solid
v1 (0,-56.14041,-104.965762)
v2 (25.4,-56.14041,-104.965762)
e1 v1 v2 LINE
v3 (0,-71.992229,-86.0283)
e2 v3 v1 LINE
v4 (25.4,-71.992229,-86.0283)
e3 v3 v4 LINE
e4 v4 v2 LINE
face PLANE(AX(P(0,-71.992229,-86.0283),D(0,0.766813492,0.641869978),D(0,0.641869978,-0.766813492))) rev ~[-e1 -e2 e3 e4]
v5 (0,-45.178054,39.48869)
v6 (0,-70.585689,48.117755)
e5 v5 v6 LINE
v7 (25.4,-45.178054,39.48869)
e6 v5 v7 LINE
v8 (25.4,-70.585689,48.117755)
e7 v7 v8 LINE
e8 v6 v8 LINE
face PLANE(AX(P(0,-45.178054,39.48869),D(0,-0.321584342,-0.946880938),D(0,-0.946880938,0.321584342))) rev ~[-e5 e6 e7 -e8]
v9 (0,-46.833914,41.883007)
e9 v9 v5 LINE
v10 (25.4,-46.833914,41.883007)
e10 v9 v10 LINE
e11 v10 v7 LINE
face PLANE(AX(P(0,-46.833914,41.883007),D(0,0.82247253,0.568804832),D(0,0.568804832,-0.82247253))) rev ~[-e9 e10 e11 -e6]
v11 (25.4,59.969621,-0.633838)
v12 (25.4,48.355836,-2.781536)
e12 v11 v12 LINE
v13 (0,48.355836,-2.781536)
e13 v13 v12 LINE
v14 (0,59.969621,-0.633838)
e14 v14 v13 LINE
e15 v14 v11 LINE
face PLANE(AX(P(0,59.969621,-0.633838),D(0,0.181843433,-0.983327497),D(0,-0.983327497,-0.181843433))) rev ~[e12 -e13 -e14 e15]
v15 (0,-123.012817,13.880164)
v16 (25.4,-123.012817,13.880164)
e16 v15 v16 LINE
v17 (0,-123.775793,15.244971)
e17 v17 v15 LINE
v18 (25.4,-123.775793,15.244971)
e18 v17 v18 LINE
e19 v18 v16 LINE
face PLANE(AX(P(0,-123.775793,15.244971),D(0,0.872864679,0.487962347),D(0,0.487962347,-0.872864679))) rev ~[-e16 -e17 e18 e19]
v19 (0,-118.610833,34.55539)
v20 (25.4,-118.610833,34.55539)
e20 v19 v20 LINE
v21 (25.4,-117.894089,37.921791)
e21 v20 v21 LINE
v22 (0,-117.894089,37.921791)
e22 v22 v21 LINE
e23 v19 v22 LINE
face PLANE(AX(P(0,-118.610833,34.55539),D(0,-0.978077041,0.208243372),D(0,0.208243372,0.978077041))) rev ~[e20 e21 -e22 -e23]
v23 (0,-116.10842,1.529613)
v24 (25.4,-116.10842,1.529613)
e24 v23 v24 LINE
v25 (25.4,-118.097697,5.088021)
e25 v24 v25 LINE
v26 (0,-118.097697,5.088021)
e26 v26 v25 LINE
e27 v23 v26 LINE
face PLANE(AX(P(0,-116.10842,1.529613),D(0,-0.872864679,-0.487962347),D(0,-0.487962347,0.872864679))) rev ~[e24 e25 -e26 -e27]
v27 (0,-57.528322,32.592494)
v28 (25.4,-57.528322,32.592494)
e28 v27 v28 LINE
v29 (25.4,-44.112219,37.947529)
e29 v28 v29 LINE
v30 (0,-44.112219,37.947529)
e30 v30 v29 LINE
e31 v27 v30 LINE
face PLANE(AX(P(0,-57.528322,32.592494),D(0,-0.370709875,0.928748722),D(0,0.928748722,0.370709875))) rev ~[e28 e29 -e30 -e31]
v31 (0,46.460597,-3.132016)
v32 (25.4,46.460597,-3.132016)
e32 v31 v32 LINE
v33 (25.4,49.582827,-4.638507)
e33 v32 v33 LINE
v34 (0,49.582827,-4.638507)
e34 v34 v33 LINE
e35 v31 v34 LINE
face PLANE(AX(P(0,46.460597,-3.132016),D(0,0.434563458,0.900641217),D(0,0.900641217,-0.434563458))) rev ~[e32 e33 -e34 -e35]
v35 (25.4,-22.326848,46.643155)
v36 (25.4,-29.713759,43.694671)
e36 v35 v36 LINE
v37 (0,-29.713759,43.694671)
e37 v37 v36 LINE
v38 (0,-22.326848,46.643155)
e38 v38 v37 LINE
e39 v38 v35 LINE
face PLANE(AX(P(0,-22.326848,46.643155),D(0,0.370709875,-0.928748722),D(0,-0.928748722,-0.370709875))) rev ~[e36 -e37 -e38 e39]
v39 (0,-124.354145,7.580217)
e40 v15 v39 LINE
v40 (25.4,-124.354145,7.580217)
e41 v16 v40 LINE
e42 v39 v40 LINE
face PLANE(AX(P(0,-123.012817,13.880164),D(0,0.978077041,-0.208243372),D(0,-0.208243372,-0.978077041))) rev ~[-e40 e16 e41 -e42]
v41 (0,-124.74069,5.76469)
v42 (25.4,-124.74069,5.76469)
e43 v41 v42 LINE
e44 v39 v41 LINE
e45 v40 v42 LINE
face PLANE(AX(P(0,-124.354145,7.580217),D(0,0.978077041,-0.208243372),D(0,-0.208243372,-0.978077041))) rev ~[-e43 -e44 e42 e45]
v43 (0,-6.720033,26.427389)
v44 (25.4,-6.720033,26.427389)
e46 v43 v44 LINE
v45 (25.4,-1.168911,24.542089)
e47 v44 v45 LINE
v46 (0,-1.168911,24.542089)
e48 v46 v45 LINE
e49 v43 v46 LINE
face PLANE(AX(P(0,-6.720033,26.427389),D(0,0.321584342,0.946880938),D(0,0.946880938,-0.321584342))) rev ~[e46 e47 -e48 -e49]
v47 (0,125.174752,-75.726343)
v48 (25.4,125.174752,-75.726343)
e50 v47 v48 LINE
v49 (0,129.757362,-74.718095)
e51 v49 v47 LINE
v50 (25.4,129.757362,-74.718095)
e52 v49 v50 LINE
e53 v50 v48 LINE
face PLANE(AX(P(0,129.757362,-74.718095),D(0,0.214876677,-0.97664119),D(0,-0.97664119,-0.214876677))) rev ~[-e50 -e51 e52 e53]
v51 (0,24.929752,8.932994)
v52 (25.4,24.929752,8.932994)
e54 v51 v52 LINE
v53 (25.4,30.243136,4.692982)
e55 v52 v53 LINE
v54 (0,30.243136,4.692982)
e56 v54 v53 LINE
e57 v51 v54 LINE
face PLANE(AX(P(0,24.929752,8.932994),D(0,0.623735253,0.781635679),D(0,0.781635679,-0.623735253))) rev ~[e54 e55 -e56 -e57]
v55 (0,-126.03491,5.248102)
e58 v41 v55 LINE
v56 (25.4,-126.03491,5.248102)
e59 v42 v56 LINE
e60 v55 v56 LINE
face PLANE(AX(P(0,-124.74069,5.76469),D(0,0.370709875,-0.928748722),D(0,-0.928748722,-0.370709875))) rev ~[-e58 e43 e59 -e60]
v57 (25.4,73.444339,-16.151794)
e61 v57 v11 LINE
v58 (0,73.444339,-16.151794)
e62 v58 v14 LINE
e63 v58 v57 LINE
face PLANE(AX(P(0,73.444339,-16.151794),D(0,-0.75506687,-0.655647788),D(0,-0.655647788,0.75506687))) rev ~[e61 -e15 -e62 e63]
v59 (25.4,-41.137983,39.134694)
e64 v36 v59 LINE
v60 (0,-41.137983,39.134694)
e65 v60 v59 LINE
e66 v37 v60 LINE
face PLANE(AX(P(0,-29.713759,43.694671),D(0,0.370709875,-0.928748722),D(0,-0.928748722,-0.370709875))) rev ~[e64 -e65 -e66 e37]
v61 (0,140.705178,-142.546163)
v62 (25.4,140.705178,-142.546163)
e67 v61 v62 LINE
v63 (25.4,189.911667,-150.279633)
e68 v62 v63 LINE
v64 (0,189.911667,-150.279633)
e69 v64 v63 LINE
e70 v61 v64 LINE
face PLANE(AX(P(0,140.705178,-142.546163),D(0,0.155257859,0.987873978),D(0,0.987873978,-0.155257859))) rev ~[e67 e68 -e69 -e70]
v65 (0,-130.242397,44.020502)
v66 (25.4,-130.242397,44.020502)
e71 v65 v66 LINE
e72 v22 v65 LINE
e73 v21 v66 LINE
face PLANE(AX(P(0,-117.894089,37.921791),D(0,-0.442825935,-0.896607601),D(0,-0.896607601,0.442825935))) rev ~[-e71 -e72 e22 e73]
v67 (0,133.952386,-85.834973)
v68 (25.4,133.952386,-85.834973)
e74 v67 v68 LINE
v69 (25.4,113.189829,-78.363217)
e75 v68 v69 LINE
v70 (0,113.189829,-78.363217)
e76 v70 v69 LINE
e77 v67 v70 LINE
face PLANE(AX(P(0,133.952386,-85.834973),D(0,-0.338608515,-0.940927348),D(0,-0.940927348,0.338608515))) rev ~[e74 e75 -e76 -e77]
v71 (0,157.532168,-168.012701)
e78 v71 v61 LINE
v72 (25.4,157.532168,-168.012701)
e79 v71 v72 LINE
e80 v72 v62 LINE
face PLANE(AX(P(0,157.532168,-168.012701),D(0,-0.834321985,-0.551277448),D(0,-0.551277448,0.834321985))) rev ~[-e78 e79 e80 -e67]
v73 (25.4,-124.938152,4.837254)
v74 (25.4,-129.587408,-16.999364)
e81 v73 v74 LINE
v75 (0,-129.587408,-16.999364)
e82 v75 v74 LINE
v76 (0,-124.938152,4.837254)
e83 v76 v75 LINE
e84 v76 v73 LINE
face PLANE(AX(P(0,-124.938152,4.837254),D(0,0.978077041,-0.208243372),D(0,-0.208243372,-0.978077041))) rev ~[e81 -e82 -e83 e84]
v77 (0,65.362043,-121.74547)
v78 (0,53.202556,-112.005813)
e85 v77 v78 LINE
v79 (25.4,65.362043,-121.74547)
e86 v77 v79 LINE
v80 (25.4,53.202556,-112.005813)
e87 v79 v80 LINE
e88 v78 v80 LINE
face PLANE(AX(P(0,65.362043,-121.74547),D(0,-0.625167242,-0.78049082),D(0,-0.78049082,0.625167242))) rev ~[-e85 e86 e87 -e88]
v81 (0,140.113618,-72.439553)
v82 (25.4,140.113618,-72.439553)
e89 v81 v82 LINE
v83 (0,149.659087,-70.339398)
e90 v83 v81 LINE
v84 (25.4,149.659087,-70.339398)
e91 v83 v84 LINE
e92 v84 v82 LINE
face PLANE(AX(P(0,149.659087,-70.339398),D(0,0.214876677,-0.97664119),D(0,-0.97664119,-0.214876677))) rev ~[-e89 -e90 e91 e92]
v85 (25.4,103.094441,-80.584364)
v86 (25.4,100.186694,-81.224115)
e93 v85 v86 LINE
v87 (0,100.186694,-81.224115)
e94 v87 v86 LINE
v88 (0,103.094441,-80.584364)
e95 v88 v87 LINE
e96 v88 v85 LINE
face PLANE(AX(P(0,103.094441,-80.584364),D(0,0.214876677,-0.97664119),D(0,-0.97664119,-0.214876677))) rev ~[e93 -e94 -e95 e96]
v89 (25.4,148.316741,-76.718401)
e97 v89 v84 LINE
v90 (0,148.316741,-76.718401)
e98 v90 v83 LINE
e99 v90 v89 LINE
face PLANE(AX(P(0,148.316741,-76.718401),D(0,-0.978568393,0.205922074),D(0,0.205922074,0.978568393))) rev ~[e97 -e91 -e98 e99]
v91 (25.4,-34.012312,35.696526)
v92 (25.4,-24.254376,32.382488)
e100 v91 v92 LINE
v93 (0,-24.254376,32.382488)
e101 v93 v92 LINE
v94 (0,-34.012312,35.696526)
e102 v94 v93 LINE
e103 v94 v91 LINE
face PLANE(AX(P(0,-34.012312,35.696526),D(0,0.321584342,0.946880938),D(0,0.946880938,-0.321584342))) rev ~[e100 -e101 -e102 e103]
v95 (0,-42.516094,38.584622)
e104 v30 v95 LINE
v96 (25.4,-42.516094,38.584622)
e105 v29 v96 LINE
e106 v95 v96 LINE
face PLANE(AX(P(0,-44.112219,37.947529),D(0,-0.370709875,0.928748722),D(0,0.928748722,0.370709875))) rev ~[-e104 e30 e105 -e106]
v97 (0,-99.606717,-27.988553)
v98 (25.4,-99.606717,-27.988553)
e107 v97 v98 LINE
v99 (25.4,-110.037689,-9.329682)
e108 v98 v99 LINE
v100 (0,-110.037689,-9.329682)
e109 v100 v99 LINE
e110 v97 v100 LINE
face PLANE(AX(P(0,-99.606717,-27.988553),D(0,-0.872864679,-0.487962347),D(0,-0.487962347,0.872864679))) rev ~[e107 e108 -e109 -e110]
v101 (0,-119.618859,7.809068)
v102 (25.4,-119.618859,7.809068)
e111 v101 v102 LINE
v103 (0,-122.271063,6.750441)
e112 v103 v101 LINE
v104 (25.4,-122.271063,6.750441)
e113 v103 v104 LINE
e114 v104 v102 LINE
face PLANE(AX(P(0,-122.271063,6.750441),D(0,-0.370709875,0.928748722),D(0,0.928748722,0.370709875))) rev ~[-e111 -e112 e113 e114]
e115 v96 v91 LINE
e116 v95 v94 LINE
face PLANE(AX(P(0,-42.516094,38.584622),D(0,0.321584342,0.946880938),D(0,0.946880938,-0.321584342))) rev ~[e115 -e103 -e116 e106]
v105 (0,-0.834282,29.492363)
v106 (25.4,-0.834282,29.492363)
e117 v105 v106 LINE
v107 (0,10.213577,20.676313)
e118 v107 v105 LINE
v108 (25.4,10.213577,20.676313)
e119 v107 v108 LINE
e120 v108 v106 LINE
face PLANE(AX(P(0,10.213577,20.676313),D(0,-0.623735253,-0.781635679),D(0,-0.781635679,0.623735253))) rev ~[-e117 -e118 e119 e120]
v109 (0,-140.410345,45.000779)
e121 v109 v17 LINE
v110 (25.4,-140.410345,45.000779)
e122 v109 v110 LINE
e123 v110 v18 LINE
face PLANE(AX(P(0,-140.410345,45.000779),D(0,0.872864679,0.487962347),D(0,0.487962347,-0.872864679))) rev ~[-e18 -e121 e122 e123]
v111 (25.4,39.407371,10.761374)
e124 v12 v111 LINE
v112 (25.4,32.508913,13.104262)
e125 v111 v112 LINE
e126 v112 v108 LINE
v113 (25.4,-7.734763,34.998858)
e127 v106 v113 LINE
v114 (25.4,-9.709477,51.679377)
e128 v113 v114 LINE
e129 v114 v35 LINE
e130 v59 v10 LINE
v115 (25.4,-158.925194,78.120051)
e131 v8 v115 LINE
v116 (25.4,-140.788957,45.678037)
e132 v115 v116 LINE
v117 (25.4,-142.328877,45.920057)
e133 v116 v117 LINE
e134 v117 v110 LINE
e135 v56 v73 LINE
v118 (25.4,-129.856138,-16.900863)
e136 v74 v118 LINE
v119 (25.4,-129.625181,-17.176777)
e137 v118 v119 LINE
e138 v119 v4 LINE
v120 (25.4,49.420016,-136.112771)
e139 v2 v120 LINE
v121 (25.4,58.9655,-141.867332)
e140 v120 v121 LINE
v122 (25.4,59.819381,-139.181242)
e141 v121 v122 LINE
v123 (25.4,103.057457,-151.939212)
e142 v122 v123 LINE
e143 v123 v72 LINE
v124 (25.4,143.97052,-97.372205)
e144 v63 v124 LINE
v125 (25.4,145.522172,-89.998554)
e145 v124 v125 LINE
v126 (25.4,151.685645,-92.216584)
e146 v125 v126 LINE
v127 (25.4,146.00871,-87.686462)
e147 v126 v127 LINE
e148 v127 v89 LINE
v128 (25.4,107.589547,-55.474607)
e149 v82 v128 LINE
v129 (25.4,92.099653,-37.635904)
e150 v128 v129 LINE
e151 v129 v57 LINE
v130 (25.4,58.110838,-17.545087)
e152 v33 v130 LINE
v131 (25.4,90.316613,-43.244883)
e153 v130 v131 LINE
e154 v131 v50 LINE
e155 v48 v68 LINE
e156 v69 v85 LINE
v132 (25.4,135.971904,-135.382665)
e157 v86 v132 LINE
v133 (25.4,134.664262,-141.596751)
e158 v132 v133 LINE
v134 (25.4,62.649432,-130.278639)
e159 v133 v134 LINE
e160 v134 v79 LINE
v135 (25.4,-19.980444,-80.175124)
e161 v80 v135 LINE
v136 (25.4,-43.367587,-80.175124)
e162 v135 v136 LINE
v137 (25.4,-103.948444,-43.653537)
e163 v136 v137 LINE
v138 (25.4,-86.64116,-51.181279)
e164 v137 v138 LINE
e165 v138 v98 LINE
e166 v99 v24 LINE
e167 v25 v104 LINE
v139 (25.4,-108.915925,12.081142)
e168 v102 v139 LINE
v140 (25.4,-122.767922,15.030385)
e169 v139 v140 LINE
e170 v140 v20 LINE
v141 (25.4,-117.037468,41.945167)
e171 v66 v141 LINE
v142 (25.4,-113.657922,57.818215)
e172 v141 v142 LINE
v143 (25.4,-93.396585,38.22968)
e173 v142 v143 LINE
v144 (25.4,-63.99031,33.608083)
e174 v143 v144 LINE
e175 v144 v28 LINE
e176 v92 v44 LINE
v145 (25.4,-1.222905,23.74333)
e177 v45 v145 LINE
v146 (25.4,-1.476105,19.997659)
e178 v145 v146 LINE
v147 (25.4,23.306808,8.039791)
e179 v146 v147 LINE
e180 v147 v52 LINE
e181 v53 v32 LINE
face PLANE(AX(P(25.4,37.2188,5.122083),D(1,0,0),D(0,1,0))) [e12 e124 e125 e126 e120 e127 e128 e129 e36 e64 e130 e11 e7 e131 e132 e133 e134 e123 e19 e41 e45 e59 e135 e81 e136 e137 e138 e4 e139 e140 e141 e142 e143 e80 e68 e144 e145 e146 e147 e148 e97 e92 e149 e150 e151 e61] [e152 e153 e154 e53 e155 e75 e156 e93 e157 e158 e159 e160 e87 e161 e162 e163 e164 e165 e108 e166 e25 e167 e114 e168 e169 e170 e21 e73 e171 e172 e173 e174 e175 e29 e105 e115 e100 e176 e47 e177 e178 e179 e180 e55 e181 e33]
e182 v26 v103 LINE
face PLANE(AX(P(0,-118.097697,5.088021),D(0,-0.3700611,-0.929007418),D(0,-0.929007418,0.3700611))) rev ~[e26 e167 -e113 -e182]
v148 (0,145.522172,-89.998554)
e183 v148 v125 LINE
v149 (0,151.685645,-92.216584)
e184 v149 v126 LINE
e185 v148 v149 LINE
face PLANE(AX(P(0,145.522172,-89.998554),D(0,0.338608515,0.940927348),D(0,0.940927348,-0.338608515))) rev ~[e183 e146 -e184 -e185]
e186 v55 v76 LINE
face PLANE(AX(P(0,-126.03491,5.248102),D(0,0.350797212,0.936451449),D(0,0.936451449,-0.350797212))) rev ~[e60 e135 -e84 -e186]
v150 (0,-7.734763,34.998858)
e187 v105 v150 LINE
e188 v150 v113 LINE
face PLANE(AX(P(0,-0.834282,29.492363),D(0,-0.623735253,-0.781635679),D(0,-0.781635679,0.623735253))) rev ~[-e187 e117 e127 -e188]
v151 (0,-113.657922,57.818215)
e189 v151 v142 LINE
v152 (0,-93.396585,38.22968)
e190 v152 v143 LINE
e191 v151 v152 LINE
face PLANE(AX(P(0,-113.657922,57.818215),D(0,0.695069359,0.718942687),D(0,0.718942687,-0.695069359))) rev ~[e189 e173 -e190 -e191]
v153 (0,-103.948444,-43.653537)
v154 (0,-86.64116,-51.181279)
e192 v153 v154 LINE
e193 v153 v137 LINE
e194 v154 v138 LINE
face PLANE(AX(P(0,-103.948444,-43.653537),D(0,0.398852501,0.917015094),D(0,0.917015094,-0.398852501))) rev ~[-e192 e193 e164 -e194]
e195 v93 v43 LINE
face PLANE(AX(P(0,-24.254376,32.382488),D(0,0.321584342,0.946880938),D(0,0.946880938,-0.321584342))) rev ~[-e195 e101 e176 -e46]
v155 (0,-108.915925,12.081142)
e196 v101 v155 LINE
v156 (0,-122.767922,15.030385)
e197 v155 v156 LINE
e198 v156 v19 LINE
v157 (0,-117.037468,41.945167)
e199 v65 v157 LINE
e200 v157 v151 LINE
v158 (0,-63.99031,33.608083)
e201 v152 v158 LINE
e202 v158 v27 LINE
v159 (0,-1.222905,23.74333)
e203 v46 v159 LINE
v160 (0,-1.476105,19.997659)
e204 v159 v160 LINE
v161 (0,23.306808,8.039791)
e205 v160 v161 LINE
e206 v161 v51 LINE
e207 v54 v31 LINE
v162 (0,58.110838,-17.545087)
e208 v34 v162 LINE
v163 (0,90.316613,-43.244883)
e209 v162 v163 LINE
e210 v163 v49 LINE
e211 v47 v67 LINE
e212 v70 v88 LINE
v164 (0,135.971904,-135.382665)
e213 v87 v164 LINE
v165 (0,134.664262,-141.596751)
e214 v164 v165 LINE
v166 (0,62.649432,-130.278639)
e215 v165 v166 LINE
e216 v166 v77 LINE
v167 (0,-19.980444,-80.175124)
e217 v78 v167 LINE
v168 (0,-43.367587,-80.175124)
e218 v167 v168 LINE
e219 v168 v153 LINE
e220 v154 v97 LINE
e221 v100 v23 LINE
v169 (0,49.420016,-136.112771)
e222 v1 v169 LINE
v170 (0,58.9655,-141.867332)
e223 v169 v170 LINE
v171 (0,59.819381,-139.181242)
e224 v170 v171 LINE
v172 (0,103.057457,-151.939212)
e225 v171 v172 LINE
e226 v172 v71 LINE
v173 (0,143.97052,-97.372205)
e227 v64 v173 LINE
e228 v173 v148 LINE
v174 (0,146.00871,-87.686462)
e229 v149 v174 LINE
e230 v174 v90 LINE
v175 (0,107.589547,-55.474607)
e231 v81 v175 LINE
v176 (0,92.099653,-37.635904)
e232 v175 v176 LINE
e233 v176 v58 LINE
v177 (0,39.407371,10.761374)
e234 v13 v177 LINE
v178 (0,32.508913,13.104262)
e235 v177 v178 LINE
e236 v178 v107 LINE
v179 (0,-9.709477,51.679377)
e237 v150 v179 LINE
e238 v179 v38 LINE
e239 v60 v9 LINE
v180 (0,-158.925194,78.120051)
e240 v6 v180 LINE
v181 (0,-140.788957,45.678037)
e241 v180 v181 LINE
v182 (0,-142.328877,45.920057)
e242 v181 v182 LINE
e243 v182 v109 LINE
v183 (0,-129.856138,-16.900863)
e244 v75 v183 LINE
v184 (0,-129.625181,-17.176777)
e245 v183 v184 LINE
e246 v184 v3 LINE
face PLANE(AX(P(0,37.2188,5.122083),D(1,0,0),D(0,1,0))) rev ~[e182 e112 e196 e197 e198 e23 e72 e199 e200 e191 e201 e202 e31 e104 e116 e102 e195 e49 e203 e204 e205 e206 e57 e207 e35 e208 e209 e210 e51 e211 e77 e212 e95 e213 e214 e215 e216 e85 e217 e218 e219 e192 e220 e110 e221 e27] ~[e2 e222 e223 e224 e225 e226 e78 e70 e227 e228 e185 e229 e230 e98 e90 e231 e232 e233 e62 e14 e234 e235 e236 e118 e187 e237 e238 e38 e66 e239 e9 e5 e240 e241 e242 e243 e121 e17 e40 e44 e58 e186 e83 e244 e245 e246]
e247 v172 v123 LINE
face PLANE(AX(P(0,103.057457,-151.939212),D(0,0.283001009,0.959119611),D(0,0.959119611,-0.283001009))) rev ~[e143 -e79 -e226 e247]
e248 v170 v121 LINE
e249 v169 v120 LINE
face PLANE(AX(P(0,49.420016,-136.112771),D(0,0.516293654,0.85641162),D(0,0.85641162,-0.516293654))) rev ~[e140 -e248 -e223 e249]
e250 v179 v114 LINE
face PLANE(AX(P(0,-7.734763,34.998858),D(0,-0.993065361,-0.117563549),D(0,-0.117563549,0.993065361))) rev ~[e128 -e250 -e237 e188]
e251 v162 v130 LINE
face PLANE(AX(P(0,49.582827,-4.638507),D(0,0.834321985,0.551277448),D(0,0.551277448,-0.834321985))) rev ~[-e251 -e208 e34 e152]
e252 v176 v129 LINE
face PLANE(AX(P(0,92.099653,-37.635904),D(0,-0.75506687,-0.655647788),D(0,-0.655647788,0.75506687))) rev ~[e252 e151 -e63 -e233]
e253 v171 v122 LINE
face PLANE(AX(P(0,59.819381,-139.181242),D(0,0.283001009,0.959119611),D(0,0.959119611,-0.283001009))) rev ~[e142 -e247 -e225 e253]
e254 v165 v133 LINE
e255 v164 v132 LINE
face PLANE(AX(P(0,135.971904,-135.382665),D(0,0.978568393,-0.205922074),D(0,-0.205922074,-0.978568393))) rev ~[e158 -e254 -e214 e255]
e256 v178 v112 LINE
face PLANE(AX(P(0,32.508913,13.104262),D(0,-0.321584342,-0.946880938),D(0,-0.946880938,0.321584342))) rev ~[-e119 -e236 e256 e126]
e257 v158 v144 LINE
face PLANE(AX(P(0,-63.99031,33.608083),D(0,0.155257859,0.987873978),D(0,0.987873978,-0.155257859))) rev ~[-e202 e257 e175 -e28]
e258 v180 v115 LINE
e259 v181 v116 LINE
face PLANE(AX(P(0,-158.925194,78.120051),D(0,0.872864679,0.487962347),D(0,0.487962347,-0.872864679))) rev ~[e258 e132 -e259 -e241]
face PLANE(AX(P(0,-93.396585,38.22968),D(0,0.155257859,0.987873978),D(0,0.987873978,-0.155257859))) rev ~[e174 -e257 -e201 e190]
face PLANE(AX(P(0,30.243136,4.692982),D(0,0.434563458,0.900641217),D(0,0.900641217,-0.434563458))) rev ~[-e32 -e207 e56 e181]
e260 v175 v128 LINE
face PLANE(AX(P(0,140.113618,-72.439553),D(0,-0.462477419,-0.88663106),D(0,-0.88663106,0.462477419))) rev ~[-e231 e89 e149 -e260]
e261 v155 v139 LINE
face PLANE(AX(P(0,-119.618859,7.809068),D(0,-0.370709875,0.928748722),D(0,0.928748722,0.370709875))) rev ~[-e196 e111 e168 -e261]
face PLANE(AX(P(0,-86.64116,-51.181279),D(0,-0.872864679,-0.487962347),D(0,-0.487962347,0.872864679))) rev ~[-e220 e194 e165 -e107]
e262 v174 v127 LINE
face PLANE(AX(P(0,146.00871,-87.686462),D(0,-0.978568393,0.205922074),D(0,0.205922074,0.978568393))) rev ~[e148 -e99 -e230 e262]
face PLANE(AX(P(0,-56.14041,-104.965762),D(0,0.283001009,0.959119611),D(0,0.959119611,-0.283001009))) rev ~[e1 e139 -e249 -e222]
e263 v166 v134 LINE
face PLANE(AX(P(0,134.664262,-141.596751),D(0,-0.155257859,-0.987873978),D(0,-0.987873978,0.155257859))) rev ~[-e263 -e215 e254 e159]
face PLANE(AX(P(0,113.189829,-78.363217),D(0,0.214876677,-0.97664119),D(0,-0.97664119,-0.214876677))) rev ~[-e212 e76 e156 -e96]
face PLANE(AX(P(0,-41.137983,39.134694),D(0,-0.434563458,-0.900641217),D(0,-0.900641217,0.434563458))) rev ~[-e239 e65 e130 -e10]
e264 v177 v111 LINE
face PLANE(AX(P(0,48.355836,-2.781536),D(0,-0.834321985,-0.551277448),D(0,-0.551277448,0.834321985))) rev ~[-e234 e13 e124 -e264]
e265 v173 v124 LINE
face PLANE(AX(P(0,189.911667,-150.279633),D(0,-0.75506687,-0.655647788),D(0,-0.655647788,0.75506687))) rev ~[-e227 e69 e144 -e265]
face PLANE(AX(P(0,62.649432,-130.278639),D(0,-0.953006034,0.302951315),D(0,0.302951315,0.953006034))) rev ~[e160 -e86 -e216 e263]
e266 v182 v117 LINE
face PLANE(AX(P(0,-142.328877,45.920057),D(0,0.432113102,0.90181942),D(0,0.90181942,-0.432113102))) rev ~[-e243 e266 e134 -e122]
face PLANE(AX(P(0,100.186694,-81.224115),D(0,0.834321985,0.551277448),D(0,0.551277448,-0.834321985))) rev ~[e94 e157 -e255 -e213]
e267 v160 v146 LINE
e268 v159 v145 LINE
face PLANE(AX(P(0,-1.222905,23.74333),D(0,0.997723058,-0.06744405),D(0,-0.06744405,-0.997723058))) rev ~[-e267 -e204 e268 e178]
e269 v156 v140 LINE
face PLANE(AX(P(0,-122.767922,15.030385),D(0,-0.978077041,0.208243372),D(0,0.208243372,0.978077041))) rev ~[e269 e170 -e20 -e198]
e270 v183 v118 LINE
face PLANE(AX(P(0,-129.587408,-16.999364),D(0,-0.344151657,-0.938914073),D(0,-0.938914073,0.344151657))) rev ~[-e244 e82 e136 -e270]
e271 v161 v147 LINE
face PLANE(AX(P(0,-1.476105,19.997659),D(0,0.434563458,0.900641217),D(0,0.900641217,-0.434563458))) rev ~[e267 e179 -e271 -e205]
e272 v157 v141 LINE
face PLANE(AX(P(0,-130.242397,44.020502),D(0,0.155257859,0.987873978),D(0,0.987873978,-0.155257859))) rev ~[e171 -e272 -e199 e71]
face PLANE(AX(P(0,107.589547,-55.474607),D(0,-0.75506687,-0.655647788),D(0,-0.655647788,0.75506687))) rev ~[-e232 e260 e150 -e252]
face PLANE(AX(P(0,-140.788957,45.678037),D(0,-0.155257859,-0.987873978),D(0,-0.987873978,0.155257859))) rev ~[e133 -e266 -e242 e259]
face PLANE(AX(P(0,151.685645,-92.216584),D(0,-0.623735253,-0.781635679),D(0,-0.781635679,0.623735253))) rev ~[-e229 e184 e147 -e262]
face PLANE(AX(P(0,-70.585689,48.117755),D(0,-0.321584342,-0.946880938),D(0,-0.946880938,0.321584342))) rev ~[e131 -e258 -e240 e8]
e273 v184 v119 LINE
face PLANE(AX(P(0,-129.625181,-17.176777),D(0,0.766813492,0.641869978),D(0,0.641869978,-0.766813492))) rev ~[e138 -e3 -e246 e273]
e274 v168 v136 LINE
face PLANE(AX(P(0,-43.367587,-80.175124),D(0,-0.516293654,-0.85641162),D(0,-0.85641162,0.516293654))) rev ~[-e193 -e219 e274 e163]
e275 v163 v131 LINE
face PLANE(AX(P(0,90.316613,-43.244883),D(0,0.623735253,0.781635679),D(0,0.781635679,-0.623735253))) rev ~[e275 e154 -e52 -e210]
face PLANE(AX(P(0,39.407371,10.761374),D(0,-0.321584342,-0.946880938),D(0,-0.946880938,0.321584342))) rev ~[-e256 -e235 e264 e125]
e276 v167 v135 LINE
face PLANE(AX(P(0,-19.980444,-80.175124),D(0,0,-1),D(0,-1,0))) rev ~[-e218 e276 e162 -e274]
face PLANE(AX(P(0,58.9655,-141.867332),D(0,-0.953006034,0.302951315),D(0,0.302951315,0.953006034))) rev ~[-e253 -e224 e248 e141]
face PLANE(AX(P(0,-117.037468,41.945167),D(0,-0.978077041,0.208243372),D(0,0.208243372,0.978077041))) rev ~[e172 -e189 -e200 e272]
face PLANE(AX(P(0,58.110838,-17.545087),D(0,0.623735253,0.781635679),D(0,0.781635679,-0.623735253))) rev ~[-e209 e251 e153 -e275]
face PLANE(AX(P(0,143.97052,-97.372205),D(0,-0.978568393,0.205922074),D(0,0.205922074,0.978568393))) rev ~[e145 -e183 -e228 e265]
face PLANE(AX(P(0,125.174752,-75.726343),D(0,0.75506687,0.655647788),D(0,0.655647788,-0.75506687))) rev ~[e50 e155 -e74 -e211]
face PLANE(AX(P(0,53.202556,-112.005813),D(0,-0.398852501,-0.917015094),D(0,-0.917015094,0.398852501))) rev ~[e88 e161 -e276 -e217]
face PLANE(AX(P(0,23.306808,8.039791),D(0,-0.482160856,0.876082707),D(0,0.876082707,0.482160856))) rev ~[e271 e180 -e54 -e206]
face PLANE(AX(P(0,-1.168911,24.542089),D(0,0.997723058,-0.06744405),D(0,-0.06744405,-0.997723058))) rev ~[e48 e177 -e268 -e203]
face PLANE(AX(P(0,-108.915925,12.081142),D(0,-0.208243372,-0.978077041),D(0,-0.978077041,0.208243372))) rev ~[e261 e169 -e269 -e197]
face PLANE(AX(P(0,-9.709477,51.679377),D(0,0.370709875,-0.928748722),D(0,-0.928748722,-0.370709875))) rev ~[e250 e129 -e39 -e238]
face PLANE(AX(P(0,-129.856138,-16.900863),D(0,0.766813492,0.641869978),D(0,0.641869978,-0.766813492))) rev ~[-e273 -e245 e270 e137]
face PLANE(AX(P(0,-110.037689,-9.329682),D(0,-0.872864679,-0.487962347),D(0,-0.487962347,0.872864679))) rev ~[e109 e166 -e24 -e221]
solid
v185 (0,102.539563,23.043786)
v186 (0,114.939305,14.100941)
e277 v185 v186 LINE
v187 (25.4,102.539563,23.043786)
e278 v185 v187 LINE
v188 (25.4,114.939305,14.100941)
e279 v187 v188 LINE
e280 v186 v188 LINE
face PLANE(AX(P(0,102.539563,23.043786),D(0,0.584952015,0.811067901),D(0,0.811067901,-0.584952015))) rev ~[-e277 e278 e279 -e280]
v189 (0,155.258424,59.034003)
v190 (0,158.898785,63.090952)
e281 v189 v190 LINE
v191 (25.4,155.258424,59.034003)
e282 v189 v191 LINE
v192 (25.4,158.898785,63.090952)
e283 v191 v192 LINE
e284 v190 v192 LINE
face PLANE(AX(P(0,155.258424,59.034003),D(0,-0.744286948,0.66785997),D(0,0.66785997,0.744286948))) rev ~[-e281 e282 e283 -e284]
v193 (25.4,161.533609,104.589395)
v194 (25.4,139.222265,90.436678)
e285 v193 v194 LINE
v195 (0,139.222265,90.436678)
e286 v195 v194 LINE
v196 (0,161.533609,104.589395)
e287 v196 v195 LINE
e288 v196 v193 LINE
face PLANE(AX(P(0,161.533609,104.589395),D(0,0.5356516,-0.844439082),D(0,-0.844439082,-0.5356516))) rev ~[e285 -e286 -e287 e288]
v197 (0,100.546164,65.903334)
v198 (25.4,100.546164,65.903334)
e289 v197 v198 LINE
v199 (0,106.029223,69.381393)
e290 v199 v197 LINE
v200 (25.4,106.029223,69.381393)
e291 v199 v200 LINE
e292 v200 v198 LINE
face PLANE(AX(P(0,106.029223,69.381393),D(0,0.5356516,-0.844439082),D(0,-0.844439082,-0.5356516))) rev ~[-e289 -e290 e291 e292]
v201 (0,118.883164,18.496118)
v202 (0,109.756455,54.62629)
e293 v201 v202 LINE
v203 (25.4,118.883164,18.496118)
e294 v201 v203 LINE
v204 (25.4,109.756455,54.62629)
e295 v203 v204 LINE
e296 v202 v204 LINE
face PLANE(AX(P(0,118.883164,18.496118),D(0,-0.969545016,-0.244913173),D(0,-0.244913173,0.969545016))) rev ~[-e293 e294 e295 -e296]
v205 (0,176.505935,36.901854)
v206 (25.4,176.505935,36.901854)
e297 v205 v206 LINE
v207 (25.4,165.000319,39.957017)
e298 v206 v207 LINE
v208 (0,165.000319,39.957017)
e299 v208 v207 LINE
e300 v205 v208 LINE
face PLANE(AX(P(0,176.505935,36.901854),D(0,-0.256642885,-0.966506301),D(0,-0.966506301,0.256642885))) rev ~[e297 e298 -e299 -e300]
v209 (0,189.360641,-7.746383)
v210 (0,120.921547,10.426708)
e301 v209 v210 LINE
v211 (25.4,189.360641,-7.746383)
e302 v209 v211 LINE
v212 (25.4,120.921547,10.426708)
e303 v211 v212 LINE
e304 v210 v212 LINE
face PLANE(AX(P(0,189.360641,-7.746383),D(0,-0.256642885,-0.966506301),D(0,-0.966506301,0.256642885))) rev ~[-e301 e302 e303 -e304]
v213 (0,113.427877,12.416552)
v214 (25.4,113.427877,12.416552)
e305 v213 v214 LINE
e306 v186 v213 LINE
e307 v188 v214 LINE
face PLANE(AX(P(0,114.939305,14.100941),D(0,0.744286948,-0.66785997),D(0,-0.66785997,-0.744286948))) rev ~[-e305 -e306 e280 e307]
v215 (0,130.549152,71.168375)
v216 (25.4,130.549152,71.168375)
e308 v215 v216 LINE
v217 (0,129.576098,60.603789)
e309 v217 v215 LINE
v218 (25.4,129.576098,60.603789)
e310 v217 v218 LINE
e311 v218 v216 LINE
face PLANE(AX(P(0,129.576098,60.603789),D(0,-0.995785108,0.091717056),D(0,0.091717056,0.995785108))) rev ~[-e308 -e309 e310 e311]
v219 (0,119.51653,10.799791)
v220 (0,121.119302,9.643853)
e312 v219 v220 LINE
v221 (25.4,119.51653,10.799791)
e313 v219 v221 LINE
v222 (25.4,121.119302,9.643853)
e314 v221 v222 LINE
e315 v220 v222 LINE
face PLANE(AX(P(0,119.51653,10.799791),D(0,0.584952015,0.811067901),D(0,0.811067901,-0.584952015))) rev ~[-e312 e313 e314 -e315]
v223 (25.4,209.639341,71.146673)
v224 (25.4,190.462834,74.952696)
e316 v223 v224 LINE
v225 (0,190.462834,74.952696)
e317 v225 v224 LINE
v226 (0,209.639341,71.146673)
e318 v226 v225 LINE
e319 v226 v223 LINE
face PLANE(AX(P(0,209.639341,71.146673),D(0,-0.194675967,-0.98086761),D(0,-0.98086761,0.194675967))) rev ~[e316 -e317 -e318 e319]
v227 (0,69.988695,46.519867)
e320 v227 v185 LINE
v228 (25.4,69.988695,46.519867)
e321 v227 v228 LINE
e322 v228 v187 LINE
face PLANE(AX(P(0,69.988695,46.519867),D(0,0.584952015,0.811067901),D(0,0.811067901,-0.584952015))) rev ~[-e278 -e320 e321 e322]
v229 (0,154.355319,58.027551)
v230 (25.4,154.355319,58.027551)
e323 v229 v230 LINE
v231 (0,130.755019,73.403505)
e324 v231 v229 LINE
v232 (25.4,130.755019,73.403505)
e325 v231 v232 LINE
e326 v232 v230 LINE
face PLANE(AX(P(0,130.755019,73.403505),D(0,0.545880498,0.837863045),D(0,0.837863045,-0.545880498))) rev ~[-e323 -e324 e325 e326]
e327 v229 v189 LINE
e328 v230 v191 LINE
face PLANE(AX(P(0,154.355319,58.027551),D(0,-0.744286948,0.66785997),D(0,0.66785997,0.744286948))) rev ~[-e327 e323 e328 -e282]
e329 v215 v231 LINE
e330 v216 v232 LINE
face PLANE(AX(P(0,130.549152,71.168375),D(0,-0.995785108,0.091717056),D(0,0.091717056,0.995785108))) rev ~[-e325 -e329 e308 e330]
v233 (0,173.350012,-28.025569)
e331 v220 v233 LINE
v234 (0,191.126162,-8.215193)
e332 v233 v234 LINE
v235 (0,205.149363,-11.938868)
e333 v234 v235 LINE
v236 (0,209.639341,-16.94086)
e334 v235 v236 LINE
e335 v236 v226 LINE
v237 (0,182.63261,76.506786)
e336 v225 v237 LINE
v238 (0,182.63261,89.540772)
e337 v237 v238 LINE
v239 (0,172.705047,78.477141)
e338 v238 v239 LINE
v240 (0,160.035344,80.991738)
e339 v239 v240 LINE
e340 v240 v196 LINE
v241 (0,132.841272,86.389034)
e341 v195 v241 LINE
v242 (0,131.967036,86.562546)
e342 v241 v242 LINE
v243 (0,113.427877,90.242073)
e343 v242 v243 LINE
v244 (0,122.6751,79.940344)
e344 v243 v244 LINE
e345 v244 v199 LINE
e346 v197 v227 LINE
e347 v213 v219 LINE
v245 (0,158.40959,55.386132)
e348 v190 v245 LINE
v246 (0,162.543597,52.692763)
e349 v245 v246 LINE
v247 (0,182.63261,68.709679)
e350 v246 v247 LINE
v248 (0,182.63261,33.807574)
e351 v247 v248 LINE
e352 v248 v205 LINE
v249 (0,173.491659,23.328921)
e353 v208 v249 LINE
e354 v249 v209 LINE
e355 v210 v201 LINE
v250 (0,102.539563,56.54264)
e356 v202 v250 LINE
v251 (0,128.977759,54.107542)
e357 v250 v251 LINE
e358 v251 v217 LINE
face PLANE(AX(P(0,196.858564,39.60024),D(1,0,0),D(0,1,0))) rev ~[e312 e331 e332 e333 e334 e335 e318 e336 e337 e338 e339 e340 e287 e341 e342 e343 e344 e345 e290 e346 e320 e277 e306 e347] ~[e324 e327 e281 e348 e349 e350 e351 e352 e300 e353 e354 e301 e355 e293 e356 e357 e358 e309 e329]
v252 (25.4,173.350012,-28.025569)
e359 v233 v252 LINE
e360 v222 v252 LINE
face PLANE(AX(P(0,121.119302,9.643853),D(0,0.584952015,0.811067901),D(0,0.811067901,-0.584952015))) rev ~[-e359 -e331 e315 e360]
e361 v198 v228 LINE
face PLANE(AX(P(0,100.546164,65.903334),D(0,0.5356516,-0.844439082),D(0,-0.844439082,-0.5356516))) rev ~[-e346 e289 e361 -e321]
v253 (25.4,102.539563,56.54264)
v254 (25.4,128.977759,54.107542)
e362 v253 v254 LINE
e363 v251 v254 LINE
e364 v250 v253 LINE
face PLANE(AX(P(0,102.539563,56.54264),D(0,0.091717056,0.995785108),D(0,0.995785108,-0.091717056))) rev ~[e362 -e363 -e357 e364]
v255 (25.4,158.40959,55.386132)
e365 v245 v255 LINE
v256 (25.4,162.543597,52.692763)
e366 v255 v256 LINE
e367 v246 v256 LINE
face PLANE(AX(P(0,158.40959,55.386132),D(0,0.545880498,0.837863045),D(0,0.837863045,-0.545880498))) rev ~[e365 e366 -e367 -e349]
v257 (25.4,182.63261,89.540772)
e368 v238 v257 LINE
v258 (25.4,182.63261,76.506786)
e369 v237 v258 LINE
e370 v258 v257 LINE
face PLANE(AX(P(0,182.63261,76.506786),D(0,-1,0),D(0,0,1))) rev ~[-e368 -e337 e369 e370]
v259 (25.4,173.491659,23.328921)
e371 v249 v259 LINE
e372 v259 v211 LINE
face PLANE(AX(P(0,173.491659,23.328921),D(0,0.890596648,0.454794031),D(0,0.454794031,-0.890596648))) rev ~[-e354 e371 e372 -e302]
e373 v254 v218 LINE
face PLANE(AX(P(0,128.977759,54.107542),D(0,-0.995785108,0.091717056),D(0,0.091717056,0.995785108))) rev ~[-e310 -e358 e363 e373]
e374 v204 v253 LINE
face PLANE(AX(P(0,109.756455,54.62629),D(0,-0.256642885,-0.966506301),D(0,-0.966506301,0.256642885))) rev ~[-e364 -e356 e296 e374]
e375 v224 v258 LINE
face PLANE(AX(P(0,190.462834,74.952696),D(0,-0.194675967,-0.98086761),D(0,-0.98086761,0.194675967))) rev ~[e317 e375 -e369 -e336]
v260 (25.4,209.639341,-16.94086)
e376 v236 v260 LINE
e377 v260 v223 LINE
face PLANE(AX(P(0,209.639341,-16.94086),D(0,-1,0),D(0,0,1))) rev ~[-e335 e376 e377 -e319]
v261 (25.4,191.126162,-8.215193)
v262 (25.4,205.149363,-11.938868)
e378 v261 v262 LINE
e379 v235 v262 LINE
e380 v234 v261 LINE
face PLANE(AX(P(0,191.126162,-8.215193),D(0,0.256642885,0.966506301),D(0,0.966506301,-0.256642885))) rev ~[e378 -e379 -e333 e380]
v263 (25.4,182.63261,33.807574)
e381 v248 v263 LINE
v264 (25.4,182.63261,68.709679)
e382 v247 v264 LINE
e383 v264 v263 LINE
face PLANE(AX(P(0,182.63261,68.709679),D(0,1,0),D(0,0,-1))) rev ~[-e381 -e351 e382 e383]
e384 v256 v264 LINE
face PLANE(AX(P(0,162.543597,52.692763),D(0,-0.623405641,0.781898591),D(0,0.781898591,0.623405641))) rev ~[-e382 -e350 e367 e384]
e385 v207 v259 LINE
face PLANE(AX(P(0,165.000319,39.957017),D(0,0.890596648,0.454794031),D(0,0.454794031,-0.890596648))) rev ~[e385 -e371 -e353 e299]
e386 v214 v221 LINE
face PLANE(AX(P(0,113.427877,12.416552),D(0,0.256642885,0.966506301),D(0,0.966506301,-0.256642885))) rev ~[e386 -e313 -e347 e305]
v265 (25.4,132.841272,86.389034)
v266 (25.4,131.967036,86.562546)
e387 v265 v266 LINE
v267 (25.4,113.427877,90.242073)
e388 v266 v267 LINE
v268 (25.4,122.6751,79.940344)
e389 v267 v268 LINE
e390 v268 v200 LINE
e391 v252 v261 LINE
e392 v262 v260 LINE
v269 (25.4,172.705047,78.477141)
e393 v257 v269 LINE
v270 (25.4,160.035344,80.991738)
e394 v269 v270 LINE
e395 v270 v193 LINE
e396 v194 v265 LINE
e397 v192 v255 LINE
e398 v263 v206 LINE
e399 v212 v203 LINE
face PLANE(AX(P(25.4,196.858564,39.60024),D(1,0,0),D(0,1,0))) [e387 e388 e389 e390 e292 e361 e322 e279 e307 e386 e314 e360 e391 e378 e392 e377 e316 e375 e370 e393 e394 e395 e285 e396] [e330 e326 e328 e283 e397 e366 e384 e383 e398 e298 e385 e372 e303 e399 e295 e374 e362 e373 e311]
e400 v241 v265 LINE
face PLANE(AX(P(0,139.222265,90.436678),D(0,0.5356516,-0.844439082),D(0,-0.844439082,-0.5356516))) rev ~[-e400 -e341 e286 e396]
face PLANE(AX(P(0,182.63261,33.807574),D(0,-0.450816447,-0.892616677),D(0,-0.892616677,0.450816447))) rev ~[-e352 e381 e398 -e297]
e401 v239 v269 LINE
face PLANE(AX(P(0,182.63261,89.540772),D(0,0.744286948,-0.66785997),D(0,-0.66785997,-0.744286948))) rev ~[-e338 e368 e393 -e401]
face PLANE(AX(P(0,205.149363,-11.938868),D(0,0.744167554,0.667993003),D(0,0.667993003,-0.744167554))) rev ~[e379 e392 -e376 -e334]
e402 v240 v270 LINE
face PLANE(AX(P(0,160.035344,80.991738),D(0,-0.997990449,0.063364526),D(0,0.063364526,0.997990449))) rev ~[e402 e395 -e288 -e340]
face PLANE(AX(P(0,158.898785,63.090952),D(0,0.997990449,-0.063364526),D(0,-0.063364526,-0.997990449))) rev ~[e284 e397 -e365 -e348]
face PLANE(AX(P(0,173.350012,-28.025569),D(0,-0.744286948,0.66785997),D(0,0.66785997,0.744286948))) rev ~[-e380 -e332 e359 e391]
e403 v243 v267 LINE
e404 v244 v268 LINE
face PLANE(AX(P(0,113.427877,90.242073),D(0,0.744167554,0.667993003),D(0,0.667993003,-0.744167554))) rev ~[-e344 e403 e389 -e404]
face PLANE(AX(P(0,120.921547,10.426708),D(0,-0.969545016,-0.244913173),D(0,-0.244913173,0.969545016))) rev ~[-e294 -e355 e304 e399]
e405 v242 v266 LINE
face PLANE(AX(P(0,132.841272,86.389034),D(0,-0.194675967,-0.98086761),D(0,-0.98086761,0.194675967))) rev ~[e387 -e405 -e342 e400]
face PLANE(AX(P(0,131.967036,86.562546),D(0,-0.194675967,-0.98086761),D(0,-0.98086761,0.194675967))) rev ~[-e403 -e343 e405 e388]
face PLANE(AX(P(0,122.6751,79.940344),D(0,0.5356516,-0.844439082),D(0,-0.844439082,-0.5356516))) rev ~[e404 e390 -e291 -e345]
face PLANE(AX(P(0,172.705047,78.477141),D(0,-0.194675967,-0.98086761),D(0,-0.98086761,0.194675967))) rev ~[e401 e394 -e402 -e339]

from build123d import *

# Parameters (mm, degrees)
F1_DEPTH = 25.4
F3_DEPTH = 25.4


with BuildPart() as f1:
    # F0 (on Right) → F1 (new body)
    with BuildSketch(Plane.YZ):
        Polygon((39.4073710901, 10.7613735016), (32.5089133342, 13.1042615165), (24.9297516677, 8.9329942935), (30.2431357458, 4.6929819052), (46.4605966165, -3.132016269), (48.3558355785, -2.7815361279), align=None)
        Polygon((24.9297516677, 8.9329942935), (32.5089133342, 13.1042615165), (10.2135774235, 20.6763127113), align=None)
        Polygon((23.3068083269, 8.0397912375), (24.9297516677, 8.9329942935), (10.2135774235, 20.6763127113), (-1.1689106362, 24.5420890628), (-1.222905109, 23.743330227), (-1.4761048743, 19.9976588776), align=None)
        Polygon((-1.1689106362, 24.5420890628), (10.2135774235, 20.6763127113), (-0.8342821813, 29.4923630665), align=None)
        Polygon((-1.1689106362, 24.5420890628), (-0.8342821813, 29.4923630665), (-7.7347625359, 34.9988579404), (-6.7200334005, 26.4273885679), align=None)
        Polygon((49.5828269857, -4.6385065349), (48.3558355785, -2.7815361279), (46.4605966165, -3.132016269), align=None)
        Polygon((59.9696205611, -0.6338380901), (48.3558355785, -2.7815361279), (49.5828269857, -4.6385065349), (73.4443388703, -16.151793875), align=None)
        Polygon((-22.3268482951, 46.6431553377), (-7.7347625359, 34.9988579404), (-9.7094774246, 51.6793765128), align=None)
        Polygon((-6.7200334005, 26.4273885679), (-7.7347625359, 34.9988579404), (-22.3268482951, 46.6431553377), (-29.7137589349, 43.6946713656), (-24.2543756572, 32.3824877764), align=None)
        Polygon((73.4443388703, -16.151793875), (49.5828269857, -4.6385065349), (58.1108375432, -17.5450869263), (90.3166132239, -43.2448831119), (92.0996528139, -37.6359043615), align=None)
        Polygon((-34.01231224, 35.6965259976), (-24.2543756572, 32.3824877764), (-29.7137589349, 43.6946713656), (-41.1379831843, 39.1346944367), align=None)
        Polygon((92.0996528139, -37.6359043615), (90.3166132239, -43.2448831119), (101.9672765147, -52.541963082), (107.5895469178, -55.474606908), align=None)
        Polygon((-42.516093666, 38.5846219009), (-34.01231224, 35.6965259976), (-41.1379831843, 39.1346944367), align=None)
        Polygon((107.5895469178, -55.474606908), (101.9672765147, -52.541963082), (111.9833428928, -60.5346556677), align=None)
        Polygon((-42.516093666, 38.5846219009), (-41.1379831843, 39.1346944367), (-46.8339137733, 41.8830066919), (-45.1780543516, 39.4886900285), align=None)
        Polygon((-44.1122193164, 37.9475286522), (-42.516093666, 38.5846219009), (-45.1780543516, 39.4886900285), align=None)
        Polygon((140.1136179952, -72.4395533447), (107.5895469178, -55.474606908), (111.9833428928, -60.5346556677), (129.7573621524, -74.7180952129), align=None)
        Polygon((-57.5283219223, 32.5924938574), (-44.1122193164, 37.9475286522), (-45.1780543516, 39.4886900285), (-70.5856886666, 48.1177552528), (-63.9903102066, 33.6080833858), align=None)
        Polygon((149.6590868927, -70.339397568), (140.1136179952, -72.4395533447), (148.3167406935, -76.7184007516), align=None)
        Polygon((148.3167406935, -76.7184007516), (140.1136179952, -72.4395533447), (129.7573621524, -74.7180952129), (146.0087098869, -87.6864623983), align=None)
        Polygon((146.0087098869, -87.6864623983), (129.7573621524, -74.7180952129), (125.1747520192, -75.726342712), (133.9523863171, -85.8349726518), (145.5221718237, -89.9985543582), align=None)
        Polygon((-63.9903102066, 33.6080833858), (-70.5856886666, 48.1177552528), (-158.9251944029, 78.1200509185), (-140.788956998, 45.6780374064), (-130.242397169, 44.0205017918), (-117.0374682699, 41.9451672473), (-113.6579215527, 57.8182153404), (-93.3965852546, 38.2296802833), align=None)
        Polygon((151.6856447369, -92.2165836427), (146.0087098869, -87.6864623983), (145.5221718237, -89.9985543582), align=None)
        Polygon((133.9523863171, -85.8349726518), (113.1898287308, -78.3632174584), (103.0944412703, -80.5843641115), (100.1866939883, -81.2241150046), (135.9719039821, -135.3826654064), (143.9705200066, -97.3722049763), align=None)
        Polygon((145.5221718237, -89.9985543582), (133.9523863171, -85.8349726518), (143.9705200066, -97.3722049763), align=None)
        Polygon((189.9116674498, -150.2796334191), (143.9705200066, -97.3722049763), (135.9719039821, -135.3826654064), (140.7051781089, -142.5461629912), align=None)
        Polygon((-130.242397169, 44.0205017918), (-140.788956998, 45.6780374064), (-140.4103454299, 45.0007788696), (-118.6108332804, 34.5553896913), (-117.8940894802, 37.9217905028), align=None)
        Polygon((-140.4103454299, 45.0007788696), (-140.788956998, 45.6780374064), (-142.3288772839, 45.9200568667), align=None)
        Polygon((140.7051781089, -142.5461629912), (135.9719039821, -135.3826654064), (134.6642617875, -141.5967506605), align=None)
        Polygon((-118.6108332804, 34.5553896913), (-140.4103454299, 45.0007788696), (-123.7757925155, 15.2449712912), (-122.7679218686, 15.0303845328), align=None)
        Polygon((157.5321683144, -168.0127006283), (140.7051781089, -142.5461629912), (134.6642617875, -141.5967506605), (79.2779969723, -132.8920442936), (103.0574570546, -151.9392119201), align=None)
        Polygon((-122.7679218686, 15.0303845328), (-123.7757925155, 15.2449712912), (-123.0128165671, 13.880163615), align=None)
        Polygon((103.0574570546, -151.9392119201), (79.2779969723, -132.8920442936), (62.6494319525, -130.2786386725), (59.8193812369, -139.1812420779), align=None)
        Polygon((-108.9159250339, 12.0811418823), (-122.7679218686, 15.0303845328), (-123.0128165671, 13.880163615), (-119.6188585673, 7.8090680051), align=None)
        Polygon((-119.6188585673, 7.8090680051), (-123.0128165671, 13.880163615), (-124.3541446238, 7.580216748), (-122.2710626701, 6.7504412436), align=None)
        Polygon((62.6494319525, -130.2786386725), (65.3620428668, -121.7454703339), (53.2025559798, -112.0058133279), (21.9878875886, -98.4291027072), (-19.9804436727, -80.1751241088), (-43.3675872791, -80.1751241088), (49.4200160338, -136.1127709415), (59.8193812369, -139.1812420779), align=None)
        Polygon((-122.2710626701, 6.7504412436), (-124.3541446238, 7.580216748), (-124.7406902911, 5.76468985), align=None)
        Polygon((58.9654996082, -141.8673315722), (59.8193812369, -139.1812420779), (49.4200160338, -136.1127709415), align=None)
        Polygon((-118.0976969364, 5.0880214572), (-122.2710626701, 6.7504412436), (-124.7406902911, 5.76468985), (-124.9381516575, 4.8372537093), (-116.108420104, 1.529612707), align=None)
        Polygon((-124.9381516575, 4.8372537093), (-124.7406902911, 5.76468985), (-126.0349099858, 5.2481023058), align=None)
        Polygon((-56.1404097384, -104.9657621289), (49.4200160338, -136.1127709415), (-43.3675872791, -80.1751241088), (-65.8273250908, -66.6351162111), (-71.9922287598, -86.0282995543), align=None)
        Polygon((-110.0376887171, -9.3296821557), (-116.108420104, 1.529612707), (-124.9381516575, 4.8372537093), (-129.587407974, -16.9993638265), (-99.6067174554, -27.9885529602), align=None)
        Polygon((-129.6251811398, -17.1767767546), (-129.587407974, -16.9993638265), (-129.8561379403, -16.9008629456), align=None)
        Polygon((-99.6067174554, -27.9885529602), (-129.587407974, -16.9993638265), (-129.6251811398, -17.1767767546), (-71.9922287598, -86.0282995543), (-65.8273250908, -66.6351162111), (-84.1907179332, -55.5646181403), (-103.948444128, -43.653536588), (-86.6411600678, -51.1812791342), (-95.4205706262, -35.4767121061), align=None)
    extrude(amount=F1_DEPTH)


with BuildPart() as f3:
    # F2 (on Right) → F3 (new body)
    with BuildSketch(Plane.YZ):
        Polygon((182.6326102018, 49.1656479155), (182.6326102018, 39.6044664085), (182.6326102018, 35.2749967557), (209.6393406391, 28.1037189108), (209.6393406391, 46.6781857364), align=None)
        Polygon((182.6326102018, 68.7096794922), (182.6326102018, 49.1656479155), (209.6393406391, 46.6781857364), (209.6393406391, 71.1466726798), (190.4628341321, 74.9526959447), align=None)
        Polygon((209.6393406391, 28.1037189108), (182.6326102018, 35.2749967557), (182.6326102018, 33.8075737448), (176.5059347614, 36.9018538812), (165.0003189524, 39.9570170353), (173.4916588605, 23.3289209383), (196.4655467816, -2.2647932405), (209.6393406391, 12.4165520464), align=None)
        Polygon((158.4095897006, 55.386132115), (162.5435971477, 52.6927634844), (182.6326102018, 68.7096794922), (182.6326102018, 76.5067858118), (172.7050465336, 78.4771414796), (158.8987850052, 63.090951684), align=None)
        Polygon((182.6326102018, 76.5067858118), (182.6326102018, 68.7096794922), (190.4628341321, 74.9526959447), align=None)
        Polygon((172.7050465336, 78.4771414796), (182.6326102018, 76.5067858118), (182.6326102018, 89.5407721731), align=None)
        Polygon((209.6393406391, -13.1311215666), (209.6393406391, 12.4165520464), (196.4655467816, -2.2647932405), (205.1493626653, -11.9388676711), align=None)
        Polygon((155.2584235223, 59.0340031332), (158.8987850052, 63.090951684), (160.0353438442, 80.9917383473), (142.24203746, 84.5232334105), align=None)
        Polygon((160.0353438442, 80.9917383473), (158.8987850052, 63.090951684), (172.7050465336, 78.4771414796), align=None)
        Polygon((209.6393406391, -16.9408600777), (209.6393406391, -13.1311215666), (205.1493626653, -11.9388676711), align=None)
        Polygon((191.1261623851, -8.2151934664), (196.4655467816, -2.2647932405), (173.4916588605, 23.3289209383), (189.3606414498, -7.7463828787), align=None)
        Polygon((205.1493626653, -11.9388676711), (196.4655467816, -2.2647932405), (191.1261623851, -8.2151934664), align=None)
        Polygon((130.7550188197, 73.4035050054), (154.3553188702, 58.0275511291), (155.2584235223, 59.0340031332), (142.24203746, 84.5232334105), (132.8412715433, 86.3890338249), (131.8958162431, 85.7893047802), align=None)
        Polygon((142.24203746, 84.5232334105), (160.0353438442, 80.9917383473), (161.5336090326, 104.589395225), (139.2222647451, 90.4366783365), align=None)
        Polygon((173.350011706, -28.0255691877), (191.1261623851, -8.2151934664), (189.3606414498, -7.7463828787), (120.9215474918, 10.426707691), (121.1193015164, 9.6438529898), align=None)
        Polygon((130.5491515757, 71.1683750762), (130.7550188197, 73.4035050054), (131.8958162431, 85.7893047802), (122.6751000902, 79.9403436625), align=None)
        Polygon((132.8412715433, 86.3890338249), (142.24203746, 84.5232334105), (139.2222647451, 90.4366783365), align=None)
        Polygon((121.1193015164, 9.6438529898), (120.9215474918, 10.426707691), (119.5165297261, 10.7997914598), align=None)
        Polygon((119.5165297261, 10.7997914598), (120.9215474918, 10.426707691), (118.8831637772, 18.4961175402), (114.9393053821, 14.1009412161), align=None)
        Polygon((122.6751000902, 79.9403436625), (131.8958162431, 85.7893047802), (131.9670358532, 86.5625462096), (113.4278774261, 90.2420729399), align=None)
        Polygon((131.9670358532, 86.5625462096), (131.8958162431, 85.7893047802), (132.8412715433, 86.3890338249), align=None)
        Polygon((129.5760975213, 60.6037889011), (130.5491515757, 71.1683750762), (122.6751000902, 79.9403436625), (106.0292229683, 69.381392878), (109.4327523501, 55.9077405336), (128.9777589912, 54.107542434), align=None)
        Polygon((113.4278774261, 12.4165520464), (119.5165297261, 10.7997914598), (114.9393053821, 14.1009412161), align=None)
        Polygon((114.9393053821, 14.1009412161), (118.8831637772, 18.4961175402), (109.7564548376, 54.6262899306), (102.5395625172, 56.5426396393), (100.9748271614, 56.6867600105), (102.5395625172, 23.0437862813), align=None)
        Polygon((109.4327523501, 55.9077405336), (106.0292229683, 69.381392878), (100.5461641487, 65.9033335484), (100.9748271614, 56.6867600105), (102.5395625172, 56.5426396393), align=None)
        Polygon((69.9886954974, 46.519866686), (102.5395625172, 23.0437862813), (100.9748271614, 56.6867600105), (100.5461641487, 65.9033335484), align=None)
    extrude(amount=F3_DEPTH)


solid = Compound([f1.part, f3.part])
